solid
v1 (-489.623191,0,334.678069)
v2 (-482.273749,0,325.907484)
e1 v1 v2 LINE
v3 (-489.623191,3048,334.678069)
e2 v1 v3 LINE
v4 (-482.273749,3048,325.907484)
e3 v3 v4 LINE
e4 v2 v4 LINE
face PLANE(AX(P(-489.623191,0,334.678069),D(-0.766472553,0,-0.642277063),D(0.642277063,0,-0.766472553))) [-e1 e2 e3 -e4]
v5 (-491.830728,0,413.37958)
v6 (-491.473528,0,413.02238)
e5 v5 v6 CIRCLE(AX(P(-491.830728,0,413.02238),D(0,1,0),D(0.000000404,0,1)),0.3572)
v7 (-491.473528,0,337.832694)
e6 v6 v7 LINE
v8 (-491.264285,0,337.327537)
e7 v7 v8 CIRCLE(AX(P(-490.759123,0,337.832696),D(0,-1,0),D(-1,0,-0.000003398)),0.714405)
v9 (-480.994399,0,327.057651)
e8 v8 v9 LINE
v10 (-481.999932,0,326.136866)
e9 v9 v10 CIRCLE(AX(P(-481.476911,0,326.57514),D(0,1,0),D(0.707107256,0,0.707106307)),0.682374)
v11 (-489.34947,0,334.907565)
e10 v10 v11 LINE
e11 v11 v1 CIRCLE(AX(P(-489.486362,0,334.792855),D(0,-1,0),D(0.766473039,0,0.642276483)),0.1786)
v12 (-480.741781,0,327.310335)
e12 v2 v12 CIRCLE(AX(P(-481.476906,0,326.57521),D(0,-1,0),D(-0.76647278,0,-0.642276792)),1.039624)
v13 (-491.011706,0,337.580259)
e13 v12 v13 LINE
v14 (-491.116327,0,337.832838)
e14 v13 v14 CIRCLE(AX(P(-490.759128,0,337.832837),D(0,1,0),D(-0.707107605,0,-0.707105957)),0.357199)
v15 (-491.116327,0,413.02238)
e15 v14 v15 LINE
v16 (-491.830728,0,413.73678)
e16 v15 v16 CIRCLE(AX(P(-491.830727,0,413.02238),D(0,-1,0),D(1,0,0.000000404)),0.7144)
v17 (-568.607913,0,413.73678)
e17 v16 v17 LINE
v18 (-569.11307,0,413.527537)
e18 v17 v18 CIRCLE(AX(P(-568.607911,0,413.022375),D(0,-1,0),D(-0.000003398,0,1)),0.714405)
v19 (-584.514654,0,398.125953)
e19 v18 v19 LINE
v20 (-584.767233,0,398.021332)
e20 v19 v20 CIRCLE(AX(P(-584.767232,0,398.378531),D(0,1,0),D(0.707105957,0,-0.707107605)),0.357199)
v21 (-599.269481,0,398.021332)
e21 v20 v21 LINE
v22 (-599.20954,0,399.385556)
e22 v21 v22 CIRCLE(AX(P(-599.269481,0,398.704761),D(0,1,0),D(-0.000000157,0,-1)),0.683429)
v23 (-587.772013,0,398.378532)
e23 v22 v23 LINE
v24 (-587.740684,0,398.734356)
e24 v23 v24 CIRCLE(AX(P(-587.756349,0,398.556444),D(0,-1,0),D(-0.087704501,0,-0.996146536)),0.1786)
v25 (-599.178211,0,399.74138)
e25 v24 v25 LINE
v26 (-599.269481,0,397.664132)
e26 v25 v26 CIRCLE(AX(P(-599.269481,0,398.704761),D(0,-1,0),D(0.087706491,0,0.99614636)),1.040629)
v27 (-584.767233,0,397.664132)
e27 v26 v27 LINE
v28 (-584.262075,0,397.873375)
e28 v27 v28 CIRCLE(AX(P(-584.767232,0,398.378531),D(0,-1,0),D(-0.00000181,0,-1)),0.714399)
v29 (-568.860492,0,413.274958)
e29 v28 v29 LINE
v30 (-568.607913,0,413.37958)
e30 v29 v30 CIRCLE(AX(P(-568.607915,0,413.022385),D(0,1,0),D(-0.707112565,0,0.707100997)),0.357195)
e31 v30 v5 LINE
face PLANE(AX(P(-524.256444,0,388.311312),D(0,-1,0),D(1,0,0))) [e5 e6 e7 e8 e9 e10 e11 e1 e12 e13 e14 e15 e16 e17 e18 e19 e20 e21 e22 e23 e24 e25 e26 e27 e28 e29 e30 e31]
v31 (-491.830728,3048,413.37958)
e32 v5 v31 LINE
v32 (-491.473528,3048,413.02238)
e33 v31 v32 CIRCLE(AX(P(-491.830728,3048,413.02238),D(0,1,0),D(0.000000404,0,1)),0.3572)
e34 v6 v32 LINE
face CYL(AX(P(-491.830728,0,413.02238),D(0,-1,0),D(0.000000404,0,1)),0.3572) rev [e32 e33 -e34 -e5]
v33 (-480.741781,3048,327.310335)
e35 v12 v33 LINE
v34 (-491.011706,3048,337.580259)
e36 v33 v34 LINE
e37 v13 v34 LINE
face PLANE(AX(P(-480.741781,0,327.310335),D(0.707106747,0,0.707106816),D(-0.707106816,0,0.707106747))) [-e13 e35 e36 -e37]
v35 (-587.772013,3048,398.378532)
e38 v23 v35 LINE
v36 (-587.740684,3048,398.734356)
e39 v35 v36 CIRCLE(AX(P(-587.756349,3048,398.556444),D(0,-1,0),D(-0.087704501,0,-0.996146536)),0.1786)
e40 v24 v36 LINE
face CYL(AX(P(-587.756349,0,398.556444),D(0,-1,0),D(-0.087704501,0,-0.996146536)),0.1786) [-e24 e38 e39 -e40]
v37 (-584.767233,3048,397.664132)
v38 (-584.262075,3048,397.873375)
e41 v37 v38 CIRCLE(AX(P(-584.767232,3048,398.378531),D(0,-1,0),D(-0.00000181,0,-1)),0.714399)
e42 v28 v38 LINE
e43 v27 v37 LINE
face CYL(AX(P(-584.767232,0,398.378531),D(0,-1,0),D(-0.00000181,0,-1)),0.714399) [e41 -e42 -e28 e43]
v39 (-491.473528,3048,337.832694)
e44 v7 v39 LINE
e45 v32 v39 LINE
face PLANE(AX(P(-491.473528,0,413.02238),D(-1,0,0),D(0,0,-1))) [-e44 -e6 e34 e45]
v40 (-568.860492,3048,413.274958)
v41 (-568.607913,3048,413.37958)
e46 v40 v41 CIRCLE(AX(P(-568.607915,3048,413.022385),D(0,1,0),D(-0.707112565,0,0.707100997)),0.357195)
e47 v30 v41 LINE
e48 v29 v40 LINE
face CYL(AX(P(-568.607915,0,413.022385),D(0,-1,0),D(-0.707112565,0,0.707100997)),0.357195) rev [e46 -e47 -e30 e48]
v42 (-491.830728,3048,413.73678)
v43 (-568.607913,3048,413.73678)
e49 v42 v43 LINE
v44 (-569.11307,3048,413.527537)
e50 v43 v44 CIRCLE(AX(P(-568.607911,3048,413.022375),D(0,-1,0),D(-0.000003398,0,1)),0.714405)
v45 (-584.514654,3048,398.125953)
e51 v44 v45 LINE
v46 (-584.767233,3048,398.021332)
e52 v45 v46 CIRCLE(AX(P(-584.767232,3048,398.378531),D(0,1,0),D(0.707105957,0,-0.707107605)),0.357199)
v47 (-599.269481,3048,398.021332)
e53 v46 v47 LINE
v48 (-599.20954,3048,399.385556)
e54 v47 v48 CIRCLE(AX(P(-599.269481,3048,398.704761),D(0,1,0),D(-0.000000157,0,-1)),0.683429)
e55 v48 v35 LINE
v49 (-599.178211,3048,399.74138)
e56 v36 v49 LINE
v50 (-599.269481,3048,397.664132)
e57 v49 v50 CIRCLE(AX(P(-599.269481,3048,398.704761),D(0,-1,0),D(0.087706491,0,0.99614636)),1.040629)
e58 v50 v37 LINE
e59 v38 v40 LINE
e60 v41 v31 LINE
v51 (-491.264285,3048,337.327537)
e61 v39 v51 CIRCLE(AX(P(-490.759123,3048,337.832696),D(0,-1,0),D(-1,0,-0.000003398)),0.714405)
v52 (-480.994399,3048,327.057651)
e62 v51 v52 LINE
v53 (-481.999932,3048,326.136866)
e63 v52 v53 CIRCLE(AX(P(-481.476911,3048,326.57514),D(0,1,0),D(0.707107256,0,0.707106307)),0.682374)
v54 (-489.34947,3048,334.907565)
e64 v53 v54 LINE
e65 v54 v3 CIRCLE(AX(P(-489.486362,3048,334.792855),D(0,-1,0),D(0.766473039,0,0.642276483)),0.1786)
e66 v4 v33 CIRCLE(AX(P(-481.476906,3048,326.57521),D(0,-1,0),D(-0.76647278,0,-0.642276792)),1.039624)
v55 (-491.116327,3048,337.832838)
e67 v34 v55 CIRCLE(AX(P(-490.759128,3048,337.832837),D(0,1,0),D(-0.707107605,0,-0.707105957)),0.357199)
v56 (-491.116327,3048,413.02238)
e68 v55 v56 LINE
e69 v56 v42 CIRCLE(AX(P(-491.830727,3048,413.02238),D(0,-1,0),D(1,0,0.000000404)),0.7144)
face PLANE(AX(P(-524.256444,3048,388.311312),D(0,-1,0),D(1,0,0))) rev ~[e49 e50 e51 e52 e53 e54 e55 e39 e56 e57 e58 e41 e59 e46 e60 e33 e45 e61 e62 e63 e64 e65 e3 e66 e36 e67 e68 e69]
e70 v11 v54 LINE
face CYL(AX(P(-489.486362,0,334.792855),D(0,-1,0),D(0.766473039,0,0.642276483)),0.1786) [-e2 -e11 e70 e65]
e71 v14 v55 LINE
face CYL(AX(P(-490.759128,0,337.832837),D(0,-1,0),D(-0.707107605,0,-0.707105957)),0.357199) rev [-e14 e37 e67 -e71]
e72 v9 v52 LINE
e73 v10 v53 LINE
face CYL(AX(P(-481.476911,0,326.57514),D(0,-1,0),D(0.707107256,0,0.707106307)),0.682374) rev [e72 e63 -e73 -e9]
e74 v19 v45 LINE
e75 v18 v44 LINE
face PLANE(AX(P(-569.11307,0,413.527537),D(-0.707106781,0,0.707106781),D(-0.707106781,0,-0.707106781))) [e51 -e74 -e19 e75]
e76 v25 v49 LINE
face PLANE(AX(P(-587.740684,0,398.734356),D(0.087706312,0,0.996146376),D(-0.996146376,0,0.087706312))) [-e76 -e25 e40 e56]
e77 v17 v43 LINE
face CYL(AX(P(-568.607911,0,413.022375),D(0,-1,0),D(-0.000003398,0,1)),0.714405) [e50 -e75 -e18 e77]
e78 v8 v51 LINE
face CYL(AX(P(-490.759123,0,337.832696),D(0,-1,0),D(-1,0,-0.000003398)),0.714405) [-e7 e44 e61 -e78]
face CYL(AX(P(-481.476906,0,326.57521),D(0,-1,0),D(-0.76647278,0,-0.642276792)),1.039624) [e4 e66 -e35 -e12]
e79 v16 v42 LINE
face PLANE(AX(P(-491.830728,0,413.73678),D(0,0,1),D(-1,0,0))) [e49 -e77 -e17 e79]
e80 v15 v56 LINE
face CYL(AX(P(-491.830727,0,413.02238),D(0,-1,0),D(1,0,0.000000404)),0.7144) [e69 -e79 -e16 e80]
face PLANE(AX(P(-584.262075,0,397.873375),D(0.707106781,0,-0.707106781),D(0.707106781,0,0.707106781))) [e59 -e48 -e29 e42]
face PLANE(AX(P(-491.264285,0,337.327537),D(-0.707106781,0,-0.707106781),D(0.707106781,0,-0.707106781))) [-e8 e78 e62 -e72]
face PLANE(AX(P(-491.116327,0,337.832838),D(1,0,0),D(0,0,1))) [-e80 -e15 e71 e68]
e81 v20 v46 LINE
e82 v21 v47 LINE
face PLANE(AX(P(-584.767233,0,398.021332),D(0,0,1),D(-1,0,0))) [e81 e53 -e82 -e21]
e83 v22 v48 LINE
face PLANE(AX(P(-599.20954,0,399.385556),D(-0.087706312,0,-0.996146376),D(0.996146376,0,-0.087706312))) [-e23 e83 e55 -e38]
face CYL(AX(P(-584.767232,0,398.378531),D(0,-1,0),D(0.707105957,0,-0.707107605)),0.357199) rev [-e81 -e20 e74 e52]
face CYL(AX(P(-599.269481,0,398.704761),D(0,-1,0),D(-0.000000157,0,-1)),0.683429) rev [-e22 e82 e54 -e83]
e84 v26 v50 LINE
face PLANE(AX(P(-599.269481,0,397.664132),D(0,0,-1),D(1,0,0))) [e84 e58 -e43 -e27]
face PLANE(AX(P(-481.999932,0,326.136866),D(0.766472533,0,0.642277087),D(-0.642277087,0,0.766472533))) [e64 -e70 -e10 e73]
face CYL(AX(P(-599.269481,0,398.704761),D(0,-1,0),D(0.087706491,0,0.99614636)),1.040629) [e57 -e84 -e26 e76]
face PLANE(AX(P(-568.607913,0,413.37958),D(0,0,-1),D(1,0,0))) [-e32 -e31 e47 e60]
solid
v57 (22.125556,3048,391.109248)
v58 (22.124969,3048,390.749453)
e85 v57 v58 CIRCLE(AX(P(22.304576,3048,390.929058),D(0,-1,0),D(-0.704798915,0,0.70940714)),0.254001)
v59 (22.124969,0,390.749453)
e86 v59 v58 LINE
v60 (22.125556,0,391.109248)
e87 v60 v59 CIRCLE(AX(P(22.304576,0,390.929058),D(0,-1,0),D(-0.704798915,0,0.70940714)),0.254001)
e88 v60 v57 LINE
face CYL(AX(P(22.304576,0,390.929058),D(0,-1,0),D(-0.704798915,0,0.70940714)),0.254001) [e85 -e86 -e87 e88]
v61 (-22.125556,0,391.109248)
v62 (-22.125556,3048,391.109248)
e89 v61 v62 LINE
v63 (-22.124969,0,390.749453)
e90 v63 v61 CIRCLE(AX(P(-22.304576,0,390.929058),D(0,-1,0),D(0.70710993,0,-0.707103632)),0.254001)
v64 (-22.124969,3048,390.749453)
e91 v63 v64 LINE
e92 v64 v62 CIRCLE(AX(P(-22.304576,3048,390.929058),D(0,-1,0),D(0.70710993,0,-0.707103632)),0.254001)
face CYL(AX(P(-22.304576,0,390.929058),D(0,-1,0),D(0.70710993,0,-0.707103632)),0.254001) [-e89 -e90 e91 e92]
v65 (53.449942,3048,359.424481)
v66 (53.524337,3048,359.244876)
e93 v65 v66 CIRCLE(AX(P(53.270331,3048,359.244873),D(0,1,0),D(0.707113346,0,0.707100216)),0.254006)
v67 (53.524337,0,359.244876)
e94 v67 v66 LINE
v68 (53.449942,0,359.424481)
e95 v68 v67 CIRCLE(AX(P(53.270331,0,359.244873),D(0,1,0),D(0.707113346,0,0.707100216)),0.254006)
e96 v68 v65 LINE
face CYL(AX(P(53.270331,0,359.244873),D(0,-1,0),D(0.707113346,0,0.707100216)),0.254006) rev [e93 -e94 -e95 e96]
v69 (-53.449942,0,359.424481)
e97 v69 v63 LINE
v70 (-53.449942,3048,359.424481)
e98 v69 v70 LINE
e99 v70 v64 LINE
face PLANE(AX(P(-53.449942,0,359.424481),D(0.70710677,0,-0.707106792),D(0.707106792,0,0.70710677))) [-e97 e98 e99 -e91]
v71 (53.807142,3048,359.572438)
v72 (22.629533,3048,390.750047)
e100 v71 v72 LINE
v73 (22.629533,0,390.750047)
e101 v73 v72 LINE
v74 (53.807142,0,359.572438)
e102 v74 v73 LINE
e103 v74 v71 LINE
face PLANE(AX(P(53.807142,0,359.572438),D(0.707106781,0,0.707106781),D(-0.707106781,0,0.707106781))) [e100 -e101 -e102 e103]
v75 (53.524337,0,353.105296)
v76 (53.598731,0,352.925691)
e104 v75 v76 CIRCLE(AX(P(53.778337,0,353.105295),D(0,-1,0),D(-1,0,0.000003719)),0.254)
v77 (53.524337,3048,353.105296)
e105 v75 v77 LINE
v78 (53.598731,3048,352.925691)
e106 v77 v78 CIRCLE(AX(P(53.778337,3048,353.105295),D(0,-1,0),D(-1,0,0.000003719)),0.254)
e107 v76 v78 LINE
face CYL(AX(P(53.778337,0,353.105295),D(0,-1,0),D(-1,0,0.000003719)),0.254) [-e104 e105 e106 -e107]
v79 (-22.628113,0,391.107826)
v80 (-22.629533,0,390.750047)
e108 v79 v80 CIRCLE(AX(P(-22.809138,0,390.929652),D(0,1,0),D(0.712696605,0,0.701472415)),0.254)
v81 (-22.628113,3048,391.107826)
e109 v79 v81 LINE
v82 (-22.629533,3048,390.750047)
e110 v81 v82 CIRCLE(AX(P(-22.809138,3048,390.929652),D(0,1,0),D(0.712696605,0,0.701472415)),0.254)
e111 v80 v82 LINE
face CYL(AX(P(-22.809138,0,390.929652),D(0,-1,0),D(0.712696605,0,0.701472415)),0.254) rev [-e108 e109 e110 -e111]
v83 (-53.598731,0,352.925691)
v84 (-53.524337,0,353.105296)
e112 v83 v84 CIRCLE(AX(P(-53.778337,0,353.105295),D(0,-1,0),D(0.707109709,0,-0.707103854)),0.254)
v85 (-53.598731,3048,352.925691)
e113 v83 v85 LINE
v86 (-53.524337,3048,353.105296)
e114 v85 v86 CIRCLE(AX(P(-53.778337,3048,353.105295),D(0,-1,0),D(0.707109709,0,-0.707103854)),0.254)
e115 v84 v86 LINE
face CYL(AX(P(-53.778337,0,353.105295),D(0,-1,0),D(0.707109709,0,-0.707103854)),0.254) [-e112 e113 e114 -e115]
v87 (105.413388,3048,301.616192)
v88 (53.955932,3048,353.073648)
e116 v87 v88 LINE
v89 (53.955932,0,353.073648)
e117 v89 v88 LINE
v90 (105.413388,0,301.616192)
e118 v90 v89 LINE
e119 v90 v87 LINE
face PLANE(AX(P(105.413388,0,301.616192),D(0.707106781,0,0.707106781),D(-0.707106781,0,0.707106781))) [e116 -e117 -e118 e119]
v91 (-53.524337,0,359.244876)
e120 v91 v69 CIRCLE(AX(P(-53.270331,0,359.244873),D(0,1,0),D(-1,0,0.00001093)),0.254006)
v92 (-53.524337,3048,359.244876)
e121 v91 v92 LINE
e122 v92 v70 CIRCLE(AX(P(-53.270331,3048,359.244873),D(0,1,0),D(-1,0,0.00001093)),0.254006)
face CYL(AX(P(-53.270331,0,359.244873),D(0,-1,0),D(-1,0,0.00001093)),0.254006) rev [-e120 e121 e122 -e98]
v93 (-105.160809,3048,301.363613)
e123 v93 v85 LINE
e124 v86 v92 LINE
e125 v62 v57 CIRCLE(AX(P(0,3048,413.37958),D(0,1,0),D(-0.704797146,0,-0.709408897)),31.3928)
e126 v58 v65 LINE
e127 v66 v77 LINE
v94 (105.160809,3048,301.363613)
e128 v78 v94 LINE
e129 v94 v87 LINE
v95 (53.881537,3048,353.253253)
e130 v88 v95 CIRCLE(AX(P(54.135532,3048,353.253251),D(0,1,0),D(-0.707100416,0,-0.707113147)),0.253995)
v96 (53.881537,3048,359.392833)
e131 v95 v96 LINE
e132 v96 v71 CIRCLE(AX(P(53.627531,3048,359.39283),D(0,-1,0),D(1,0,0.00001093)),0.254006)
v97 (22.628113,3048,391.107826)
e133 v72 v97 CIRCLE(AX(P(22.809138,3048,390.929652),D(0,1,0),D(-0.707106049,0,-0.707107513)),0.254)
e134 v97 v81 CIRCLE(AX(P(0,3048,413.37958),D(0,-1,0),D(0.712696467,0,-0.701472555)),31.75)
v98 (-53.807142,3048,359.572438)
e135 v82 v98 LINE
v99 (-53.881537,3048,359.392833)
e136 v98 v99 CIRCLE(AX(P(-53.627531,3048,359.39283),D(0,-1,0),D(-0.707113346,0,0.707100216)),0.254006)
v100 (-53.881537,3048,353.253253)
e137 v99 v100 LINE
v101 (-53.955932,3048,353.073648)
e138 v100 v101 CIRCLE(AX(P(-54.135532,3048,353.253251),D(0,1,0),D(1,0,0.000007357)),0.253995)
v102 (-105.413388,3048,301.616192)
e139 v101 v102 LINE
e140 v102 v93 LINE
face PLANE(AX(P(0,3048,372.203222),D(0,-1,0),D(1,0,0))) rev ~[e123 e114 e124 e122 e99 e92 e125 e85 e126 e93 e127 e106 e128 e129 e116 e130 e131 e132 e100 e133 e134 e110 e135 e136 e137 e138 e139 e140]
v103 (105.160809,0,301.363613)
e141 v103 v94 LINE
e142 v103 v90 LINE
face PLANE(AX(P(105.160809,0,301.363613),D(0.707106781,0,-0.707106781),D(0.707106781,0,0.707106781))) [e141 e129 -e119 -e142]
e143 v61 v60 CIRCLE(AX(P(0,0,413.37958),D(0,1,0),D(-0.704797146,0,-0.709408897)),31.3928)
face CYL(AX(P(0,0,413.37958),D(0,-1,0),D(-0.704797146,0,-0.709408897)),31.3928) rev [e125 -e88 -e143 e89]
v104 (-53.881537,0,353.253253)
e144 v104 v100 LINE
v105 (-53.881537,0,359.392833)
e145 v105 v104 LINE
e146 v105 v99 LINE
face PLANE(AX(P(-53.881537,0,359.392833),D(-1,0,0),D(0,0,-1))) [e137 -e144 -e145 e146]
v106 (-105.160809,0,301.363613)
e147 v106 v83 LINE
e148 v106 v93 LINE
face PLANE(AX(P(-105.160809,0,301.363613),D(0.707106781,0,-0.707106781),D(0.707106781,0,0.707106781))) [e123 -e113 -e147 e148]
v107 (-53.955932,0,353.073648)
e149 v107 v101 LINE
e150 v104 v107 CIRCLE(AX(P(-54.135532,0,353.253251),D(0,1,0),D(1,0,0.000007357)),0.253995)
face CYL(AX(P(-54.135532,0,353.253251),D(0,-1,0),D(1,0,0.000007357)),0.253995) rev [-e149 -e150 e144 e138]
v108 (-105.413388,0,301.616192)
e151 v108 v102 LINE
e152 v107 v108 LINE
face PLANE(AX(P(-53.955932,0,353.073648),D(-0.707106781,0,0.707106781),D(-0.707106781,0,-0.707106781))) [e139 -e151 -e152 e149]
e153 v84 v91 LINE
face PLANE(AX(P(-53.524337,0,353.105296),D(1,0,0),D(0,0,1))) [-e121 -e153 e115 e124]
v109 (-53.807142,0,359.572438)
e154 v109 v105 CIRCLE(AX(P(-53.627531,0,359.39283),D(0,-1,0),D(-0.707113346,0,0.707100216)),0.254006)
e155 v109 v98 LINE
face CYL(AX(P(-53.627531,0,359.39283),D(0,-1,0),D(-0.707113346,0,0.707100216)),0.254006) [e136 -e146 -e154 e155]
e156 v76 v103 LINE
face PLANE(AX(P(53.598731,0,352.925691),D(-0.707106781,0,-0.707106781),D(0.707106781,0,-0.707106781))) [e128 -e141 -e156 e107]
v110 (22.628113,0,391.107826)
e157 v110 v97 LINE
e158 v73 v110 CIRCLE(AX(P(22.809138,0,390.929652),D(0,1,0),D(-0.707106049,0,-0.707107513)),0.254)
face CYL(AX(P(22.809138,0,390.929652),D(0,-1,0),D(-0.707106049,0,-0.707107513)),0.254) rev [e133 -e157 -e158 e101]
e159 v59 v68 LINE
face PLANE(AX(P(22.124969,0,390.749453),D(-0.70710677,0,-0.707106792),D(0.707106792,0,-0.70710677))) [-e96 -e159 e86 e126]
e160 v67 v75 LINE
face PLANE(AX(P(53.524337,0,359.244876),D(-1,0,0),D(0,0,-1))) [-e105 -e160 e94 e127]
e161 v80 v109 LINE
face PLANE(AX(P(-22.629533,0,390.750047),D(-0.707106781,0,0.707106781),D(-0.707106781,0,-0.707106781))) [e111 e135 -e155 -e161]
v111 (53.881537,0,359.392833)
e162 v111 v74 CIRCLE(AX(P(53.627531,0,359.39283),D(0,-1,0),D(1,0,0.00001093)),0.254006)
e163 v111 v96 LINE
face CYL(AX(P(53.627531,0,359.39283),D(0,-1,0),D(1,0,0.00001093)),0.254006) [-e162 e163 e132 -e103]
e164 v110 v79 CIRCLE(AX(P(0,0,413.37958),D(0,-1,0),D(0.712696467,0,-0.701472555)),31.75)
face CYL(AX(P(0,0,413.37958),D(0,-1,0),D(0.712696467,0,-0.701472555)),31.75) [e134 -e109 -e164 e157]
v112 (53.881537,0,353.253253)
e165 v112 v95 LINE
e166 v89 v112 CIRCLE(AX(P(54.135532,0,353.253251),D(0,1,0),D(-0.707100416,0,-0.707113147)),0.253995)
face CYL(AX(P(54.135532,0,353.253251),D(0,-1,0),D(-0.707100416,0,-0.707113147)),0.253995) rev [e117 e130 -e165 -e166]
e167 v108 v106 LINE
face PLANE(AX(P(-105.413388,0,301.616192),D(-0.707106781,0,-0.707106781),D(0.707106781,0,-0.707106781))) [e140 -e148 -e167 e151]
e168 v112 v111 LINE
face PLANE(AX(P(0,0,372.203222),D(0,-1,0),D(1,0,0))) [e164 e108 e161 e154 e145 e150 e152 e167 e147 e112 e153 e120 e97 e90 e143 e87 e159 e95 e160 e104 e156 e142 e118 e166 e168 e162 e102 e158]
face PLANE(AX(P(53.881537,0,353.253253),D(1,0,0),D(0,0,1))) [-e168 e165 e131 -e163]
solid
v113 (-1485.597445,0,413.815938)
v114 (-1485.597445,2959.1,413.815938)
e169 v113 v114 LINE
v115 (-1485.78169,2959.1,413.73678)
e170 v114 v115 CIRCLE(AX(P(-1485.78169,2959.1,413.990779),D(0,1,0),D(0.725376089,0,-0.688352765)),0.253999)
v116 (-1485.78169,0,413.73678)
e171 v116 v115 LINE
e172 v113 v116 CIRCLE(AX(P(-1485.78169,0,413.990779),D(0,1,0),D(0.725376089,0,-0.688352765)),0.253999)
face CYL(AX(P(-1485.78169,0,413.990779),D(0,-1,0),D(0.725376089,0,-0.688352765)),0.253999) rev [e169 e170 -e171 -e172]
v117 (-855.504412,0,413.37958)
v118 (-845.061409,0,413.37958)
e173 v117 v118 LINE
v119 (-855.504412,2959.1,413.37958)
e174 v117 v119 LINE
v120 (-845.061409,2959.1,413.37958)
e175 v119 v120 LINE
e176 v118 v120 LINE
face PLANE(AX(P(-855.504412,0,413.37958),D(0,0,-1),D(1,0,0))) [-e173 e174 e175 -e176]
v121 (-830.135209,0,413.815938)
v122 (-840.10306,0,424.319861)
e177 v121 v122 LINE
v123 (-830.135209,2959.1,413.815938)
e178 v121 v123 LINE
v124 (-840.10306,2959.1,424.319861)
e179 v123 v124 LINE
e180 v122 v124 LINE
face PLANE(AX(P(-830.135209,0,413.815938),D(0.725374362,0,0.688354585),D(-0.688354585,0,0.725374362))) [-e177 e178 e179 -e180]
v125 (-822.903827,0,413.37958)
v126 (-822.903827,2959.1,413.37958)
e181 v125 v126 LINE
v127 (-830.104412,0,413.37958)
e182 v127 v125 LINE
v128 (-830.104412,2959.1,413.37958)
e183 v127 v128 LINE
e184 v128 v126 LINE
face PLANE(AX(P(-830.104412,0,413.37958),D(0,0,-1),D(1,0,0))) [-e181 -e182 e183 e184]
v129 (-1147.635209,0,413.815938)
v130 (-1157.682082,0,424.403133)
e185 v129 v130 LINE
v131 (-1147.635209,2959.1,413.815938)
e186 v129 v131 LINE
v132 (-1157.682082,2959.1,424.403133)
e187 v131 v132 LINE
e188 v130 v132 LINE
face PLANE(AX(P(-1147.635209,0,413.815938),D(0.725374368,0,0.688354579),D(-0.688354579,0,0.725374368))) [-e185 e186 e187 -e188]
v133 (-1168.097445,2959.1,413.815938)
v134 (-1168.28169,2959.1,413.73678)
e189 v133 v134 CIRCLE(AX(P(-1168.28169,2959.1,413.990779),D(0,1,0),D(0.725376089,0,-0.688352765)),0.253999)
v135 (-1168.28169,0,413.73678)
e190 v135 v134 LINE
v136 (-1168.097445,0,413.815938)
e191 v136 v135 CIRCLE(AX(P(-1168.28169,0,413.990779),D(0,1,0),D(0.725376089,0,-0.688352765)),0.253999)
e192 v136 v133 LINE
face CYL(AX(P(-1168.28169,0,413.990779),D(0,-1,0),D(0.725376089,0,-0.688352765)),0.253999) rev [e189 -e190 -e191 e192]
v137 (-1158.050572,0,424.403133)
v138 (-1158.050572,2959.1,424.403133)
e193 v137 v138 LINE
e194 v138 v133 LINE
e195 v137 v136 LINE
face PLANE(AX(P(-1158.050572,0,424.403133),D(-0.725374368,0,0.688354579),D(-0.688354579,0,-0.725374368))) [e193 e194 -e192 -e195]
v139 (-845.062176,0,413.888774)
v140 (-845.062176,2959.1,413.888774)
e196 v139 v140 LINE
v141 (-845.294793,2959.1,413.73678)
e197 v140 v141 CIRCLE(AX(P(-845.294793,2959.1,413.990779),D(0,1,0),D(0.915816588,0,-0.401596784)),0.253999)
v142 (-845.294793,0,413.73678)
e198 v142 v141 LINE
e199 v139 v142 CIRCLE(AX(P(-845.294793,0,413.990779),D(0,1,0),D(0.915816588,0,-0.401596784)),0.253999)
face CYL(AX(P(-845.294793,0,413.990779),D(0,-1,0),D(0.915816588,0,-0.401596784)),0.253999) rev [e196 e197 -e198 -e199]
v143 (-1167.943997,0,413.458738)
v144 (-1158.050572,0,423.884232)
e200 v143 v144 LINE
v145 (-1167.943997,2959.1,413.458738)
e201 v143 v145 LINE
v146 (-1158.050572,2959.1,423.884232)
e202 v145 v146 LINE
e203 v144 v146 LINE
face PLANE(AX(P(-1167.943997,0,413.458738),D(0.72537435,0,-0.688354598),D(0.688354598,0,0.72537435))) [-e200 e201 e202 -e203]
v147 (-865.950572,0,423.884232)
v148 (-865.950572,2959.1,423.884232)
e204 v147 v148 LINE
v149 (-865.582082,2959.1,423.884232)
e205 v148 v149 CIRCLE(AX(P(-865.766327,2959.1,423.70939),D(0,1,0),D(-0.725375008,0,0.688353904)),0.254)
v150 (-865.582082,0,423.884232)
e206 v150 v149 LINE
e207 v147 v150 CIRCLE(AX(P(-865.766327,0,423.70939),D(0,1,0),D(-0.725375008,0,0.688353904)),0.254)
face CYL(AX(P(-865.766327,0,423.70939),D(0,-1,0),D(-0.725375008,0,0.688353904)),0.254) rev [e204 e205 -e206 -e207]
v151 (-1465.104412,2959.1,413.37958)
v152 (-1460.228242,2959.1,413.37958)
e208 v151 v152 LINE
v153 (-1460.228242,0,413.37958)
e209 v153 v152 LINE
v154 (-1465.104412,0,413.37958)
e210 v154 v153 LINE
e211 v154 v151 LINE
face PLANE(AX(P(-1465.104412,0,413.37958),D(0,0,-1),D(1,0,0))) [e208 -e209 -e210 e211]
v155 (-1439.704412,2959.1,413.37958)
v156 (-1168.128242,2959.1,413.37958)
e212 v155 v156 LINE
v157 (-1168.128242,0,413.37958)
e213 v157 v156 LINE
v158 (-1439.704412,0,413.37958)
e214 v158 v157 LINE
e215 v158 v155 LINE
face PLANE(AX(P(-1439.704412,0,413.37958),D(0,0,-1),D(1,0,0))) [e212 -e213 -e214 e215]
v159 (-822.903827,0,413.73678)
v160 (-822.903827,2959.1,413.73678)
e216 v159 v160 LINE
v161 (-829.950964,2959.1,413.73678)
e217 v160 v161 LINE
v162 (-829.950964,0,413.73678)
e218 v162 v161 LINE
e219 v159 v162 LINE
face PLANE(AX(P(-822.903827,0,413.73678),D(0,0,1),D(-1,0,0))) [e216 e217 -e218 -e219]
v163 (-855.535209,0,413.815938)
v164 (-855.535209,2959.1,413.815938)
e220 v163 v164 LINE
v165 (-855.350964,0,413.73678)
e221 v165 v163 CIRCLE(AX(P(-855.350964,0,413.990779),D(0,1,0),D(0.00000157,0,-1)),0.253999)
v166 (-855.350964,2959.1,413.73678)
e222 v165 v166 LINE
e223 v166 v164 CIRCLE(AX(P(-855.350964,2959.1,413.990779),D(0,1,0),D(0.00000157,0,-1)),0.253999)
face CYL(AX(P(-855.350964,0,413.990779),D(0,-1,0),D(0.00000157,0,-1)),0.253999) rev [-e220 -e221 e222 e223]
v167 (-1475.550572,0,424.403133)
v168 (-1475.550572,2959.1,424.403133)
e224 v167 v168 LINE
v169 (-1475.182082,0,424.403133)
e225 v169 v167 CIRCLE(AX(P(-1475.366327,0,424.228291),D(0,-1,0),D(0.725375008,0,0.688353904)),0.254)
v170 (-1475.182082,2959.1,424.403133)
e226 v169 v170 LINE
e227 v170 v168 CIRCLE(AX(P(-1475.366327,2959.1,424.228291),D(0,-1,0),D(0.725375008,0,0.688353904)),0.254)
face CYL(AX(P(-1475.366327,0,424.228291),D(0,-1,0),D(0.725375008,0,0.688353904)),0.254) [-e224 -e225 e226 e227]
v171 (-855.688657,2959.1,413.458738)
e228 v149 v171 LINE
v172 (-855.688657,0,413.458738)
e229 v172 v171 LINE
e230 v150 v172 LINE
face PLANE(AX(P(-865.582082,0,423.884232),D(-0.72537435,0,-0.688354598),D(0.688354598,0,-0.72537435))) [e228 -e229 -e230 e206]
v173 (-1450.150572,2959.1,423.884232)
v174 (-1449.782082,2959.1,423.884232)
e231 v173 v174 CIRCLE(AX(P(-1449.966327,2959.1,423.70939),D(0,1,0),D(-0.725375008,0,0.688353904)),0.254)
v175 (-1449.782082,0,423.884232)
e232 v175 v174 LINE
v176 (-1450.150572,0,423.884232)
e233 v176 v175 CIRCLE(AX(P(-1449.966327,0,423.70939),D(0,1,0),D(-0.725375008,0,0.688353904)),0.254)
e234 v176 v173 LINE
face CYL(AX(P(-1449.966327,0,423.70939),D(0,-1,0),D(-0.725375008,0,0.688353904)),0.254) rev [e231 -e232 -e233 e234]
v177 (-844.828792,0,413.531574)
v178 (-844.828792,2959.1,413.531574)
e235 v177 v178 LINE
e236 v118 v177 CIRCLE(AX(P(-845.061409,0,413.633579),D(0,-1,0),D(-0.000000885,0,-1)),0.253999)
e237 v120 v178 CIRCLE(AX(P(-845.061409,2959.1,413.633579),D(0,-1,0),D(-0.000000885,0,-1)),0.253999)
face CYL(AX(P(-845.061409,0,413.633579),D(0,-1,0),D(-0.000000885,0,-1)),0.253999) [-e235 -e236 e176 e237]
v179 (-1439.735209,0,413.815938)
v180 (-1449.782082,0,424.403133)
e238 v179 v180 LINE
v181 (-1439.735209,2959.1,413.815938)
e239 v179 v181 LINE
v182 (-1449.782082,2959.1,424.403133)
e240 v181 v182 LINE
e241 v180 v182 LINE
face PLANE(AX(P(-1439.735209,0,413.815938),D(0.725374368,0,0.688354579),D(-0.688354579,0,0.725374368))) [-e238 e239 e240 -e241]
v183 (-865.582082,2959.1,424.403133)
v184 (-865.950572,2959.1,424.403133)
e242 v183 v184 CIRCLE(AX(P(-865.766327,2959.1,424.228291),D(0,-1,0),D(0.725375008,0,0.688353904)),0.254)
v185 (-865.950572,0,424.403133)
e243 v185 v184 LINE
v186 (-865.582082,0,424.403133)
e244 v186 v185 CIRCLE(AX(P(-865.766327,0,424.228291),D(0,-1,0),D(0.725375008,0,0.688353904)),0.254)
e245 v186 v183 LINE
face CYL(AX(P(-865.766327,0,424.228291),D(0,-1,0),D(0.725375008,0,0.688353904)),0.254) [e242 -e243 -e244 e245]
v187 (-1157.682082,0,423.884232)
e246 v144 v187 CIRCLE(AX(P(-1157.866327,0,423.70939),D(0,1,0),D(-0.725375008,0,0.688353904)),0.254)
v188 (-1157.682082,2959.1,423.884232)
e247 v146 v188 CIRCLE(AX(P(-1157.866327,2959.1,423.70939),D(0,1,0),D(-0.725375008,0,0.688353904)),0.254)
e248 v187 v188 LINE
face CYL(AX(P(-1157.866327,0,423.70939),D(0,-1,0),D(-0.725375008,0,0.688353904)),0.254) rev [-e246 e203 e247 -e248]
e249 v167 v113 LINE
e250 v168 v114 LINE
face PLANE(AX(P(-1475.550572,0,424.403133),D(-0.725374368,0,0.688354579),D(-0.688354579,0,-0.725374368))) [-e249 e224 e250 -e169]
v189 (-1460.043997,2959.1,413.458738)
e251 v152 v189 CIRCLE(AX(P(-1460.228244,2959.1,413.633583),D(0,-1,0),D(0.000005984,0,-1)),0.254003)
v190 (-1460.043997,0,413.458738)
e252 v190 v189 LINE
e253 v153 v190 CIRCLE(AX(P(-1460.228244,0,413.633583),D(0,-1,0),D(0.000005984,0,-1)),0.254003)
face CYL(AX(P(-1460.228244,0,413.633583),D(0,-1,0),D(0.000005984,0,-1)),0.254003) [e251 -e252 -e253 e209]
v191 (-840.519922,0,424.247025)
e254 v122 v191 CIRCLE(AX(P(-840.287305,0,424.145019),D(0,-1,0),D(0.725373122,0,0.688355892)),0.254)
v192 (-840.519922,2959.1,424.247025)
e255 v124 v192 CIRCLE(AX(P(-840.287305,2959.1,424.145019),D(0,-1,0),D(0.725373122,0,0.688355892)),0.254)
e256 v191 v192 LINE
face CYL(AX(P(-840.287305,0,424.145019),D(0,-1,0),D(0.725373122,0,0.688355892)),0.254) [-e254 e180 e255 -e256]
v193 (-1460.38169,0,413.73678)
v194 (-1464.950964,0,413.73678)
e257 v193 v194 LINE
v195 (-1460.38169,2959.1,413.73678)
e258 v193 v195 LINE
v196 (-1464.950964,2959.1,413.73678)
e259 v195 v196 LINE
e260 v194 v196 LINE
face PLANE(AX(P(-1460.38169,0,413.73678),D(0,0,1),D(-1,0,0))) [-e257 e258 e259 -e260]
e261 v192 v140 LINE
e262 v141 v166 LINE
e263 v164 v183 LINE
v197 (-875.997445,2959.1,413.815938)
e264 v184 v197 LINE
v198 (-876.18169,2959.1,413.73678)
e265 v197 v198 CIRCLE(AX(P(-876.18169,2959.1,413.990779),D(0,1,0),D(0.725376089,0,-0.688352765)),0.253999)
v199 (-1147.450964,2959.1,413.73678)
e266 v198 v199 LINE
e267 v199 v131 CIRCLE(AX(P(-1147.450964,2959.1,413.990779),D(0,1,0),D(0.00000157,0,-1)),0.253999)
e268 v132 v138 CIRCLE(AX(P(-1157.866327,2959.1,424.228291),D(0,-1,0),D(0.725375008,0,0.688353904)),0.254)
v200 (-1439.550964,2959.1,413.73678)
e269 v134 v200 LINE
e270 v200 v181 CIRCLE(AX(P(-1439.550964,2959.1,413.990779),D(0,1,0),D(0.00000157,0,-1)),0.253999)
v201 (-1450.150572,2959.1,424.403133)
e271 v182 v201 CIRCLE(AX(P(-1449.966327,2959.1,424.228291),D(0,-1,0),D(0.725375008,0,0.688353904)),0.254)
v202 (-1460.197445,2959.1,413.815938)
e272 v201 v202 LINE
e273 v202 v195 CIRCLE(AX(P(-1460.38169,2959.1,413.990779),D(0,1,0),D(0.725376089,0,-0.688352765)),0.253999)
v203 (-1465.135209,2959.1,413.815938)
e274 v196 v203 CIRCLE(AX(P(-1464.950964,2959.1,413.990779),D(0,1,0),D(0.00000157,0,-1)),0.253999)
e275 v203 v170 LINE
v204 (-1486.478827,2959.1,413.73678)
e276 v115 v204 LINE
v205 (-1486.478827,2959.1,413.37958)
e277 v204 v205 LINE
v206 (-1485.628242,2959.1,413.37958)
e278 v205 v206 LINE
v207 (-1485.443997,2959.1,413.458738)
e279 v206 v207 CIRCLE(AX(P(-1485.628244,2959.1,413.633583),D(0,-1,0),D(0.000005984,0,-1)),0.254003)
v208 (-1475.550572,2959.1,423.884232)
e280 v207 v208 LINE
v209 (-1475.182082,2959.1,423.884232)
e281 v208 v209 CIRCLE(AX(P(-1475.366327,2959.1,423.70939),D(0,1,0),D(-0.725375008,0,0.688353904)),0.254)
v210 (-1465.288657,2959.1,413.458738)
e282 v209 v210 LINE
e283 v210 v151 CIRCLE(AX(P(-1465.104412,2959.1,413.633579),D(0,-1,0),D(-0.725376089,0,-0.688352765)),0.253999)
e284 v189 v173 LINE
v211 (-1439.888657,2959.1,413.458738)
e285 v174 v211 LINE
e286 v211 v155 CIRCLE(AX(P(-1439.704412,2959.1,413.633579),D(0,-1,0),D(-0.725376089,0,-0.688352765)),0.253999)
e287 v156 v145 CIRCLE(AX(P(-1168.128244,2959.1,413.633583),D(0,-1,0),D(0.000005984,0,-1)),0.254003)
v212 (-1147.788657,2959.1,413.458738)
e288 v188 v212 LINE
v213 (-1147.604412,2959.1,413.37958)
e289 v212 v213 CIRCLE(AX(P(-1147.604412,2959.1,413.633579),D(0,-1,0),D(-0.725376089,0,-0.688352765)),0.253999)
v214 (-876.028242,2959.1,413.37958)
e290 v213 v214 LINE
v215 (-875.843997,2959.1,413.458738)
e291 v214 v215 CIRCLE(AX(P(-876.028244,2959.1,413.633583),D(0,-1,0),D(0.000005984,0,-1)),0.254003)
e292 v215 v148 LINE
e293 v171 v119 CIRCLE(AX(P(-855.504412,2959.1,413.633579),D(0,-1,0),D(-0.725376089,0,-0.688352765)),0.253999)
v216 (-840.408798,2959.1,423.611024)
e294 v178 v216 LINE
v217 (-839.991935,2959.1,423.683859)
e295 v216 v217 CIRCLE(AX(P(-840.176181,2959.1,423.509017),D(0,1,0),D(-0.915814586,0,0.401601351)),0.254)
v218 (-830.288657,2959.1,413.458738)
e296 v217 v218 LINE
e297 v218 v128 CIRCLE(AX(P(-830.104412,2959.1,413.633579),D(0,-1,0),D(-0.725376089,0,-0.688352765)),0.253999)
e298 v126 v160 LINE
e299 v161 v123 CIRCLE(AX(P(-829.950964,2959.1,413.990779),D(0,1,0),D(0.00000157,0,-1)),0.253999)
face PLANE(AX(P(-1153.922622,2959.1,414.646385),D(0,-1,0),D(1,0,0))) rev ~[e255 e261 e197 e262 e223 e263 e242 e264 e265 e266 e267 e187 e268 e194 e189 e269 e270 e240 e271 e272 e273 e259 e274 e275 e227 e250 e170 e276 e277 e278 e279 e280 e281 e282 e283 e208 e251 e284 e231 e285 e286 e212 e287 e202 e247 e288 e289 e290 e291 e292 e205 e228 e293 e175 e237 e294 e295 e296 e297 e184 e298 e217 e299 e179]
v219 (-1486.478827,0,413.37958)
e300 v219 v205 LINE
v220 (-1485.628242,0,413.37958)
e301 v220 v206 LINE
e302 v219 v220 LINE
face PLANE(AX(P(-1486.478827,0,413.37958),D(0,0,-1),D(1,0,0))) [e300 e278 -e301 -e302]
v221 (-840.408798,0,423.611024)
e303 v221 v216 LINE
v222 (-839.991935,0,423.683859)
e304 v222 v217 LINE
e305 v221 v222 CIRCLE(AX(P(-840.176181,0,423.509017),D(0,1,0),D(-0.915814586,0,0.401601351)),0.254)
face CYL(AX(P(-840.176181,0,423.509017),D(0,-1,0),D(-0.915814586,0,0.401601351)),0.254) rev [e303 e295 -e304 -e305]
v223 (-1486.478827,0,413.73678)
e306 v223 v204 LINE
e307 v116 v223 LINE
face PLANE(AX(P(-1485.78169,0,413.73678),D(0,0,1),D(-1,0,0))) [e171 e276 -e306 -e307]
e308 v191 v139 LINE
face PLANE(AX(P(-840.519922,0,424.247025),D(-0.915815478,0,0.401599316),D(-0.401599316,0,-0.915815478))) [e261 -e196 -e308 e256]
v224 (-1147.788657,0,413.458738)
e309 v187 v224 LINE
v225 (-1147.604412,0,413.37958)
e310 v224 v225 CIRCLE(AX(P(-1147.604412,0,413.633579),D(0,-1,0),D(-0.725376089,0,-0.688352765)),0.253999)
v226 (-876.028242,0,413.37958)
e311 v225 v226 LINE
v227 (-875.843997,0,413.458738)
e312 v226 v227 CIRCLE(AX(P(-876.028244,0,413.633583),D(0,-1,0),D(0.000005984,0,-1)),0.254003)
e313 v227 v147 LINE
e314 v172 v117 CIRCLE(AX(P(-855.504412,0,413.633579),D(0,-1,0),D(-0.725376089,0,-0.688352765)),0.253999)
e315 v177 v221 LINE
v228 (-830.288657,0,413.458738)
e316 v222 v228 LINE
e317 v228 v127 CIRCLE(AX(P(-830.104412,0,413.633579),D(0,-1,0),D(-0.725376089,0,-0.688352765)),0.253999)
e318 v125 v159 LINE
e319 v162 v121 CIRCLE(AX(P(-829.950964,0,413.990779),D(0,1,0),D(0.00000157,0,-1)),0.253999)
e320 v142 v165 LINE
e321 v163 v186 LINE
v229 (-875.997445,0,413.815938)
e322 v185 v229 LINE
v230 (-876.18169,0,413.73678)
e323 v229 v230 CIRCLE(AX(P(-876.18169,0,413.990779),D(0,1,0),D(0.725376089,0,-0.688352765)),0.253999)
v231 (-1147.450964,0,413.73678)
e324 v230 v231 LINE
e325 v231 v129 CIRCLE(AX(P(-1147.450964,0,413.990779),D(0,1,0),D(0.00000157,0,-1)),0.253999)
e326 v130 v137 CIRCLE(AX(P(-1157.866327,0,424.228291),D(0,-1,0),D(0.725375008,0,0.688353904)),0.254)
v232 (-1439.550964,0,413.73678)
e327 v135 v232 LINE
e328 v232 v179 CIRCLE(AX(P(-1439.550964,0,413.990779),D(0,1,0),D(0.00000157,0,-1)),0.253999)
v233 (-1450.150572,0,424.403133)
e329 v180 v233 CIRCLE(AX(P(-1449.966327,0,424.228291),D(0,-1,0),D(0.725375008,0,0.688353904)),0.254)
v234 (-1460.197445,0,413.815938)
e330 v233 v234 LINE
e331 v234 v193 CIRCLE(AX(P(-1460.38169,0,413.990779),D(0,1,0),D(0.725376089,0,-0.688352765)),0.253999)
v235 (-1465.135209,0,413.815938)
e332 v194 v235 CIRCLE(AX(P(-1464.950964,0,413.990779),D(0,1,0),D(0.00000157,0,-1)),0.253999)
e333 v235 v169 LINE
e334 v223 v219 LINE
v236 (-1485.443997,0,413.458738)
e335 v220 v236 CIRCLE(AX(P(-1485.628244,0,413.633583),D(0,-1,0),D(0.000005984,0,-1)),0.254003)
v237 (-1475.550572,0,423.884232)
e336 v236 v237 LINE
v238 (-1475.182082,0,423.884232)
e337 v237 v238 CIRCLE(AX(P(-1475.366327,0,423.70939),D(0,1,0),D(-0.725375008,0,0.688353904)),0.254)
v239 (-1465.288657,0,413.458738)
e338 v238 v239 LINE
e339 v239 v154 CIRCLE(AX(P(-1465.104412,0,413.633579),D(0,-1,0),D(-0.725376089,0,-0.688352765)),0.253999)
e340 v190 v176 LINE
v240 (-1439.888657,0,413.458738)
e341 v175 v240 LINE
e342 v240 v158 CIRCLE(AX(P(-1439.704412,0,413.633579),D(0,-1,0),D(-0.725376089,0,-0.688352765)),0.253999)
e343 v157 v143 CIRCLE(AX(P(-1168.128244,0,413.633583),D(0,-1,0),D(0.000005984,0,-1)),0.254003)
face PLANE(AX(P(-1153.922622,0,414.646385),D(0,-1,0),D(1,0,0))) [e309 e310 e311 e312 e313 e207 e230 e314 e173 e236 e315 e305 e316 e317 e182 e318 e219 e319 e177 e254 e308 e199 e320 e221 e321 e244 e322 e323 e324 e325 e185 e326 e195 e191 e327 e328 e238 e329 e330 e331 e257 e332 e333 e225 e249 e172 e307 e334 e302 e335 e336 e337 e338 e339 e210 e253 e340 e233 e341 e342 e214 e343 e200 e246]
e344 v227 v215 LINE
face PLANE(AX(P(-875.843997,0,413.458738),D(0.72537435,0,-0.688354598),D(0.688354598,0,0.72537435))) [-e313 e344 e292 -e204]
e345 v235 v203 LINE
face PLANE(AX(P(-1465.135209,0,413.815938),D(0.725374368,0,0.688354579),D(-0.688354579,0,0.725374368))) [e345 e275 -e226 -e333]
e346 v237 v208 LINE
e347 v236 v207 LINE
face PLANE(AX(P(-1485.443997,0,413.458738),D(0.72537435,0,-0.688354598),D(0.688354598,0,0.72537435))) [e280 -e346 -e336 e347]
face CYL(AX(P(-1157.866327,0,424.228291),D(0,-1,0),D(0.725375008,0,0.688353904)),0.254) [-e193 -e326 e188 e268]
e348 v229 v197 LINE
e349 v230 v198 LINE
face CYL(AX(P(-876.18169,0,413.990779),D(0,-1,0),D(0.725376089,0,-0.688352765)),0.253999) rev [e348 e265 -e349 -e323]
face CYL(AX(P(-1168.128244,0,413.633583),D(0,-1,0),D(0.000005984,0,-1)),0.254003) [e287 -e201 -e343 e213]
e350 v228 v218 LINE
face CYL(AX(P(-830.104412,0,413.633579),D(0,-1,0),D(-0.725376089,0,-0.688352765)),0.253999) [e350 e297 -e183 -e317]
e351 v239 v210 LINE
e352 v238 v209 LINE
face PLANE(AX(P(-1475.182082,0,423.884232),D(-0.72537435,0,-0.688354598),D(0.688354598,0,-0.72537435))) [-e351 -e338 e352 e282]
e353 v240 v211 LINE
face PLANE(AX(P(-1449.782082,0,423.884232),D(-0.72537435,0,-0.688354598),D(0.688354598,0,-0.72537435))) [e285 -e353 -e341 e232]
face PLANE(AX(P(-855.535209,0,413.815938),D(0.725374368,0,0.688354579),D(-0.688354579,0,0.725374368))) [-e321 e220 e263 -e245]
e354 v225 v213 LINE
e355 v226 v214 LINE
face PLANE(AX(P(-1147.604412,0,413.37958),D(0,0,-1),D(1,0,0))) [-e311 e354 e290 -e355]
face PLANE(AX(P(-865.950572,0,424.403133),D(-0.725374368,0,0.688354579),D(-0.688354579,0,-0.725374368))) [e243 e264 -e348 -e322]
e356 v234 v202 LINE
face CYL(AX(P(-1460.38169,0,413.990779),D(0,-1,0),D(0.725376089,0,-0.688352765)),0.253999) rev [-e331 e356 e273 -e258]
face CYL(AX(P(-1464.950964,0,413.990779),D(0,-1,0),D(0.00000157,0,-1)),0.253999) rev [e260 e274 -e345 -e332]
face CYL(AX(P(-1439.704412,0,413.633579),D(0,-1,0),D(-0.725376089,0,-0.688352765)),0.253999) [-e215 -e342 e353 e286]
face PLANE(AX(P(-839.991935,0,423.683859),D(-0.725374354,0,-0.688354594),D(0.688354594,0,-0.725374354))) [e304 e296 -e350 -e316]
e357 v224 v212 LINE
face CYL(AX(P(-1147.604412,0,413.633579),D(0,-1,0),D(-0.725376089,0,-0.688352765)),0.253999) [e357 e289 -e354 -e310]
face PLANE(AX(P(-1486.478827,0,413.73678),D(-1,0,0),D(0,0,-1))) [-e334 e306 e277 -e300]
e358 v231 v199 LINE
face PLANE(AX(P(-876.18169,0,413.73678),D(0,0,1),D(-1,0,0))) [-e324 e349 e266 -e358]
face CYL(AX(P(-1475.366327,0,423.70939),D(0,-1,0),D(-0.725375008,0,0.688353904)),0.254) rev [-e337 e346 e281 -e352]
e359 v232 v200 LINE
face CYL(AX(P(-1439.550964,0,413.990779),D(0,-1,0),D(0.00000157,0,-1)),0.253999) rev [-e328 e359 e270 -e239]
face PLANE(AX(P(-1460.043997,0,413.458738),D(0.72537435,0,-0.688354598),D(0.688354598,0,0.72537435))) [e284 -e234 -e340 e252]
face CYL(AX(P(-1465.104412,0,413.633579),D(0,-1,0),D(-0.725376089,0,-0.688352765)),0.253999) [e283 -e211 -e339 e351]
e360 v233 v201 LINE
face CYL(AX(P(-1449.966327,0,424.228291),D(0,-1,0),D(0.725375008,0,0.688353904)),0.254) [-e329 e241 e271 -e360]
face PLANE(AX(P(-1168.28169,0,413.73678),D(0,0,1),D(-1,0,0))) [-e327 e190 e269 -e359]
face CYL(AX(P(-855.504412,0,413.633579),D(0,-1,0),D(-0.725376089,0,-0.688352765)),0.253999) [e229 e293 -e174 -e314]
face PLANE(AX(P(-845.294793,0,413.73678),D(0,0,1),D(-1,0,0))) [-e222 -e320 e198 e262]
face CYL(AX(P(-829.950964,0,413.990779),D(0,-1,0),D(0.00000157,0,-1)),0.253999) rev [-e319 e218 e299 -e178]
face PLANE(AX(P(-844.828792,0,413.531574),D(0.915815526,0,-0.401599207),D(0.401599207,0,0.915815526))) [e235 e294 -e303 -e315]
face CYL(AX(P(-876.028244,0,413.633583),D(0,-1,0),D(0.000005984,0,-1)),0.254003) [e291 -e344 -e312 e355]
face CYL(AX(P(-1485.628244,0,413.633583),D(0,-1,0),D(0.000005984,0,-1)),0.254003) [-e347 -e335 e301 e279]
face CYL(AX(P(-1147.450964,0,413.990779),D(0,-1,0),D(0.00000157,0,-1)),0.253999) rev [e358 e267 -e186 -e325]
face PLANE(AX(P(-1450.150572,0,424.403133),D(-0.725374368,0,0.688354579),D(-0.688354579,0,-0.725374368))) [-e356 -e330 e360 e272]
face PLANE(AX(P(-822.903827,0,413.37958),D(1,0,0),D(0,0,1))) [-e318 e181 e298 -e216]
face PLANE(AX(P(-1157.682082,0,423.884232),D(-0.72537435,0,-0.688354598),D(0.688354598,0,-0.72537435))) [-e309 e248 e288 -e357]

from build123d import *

# Parameters (mm, degrees)
F1_DEPTH = 2959.1
F2_DEPTH = 3048
F3_DEPTH = 3048


with BuildPart() as f1:
    # F0 (on Front) → F1 (new body)
    with BuildSketch(Plane.XZ):
        with BuildLine():
            Line((-1475.550572, 424.403133), (-1485.597445, 413.815938))
            ThreePointArc((-1485.597445, 413.815938), (-1485.681425, 413.757407), (-1485.78169, 413.73678))
            Line((-1485.78169, 413.73678), (-1486.478827, 413.73678))
            Line((-1486.478827, 413.73678), (-1486.478827, 413.37958))
            Line((-1486.478827, 413.37958), (-1485.628242, 413.37958))
            ThreePointArc((-1485.628242, 413.37958), (-1485.527978, 413.400207), (-1485.443997, 413.458738))
            Line((-1485.443997, 413.458738), (-1475.550572, 423.884232))
            ThreePointArc((-1475.550572, 423.884232), (-1475.366327, 423.96339), (-1475.182082, 423.884232))
            Line((-1475.182082, 423.884232), (-1465.288657, 413.458738))
            ThreePointArc((-1465.288657, 413.458738), (-1465.204677, 413.400207), (-1465.104412, 413.37958))
            Line((-1465.104412, 413.37958), (-1460.228242, 413.37958))
            ThreePointArc((-1460.228242, 413.37958), (-1460.127978, 413.400207), (-1460.043997, 413.458738))
            Line((-1460.043997, 413.458738), (-1450.150572, 423.884232))
            ThreePointArc((-1450.150572, 423.884232), (-1449.966327, 423.96339), (-1449.782082, 423.884232))
            Line((-1449.782082, 423.884232), (-1439.888657, 413.458738))
            ThreePointArc((-1439.888657, 413.458738), (-1439.804677, 413.400207), (-1439.704412, 413.37958))
            Line((-1439.704412, 413.37958), (-1168.128242, 413.37958))
            ThreePointArc((-1168.128242, 413.37958), (-1168.027978, 413.400207), (-1167.943997, 413.458738))
            Line((-1167.943997, 413.458738), (-1158.050572, 423.884232))
            ThreePointArc((-1158.050572, 423.884232), (-1157.866327, 423.96339), (-1157.682082, 423.884232))
            Line((-1157.682082, 423.884232), (-1147.788657, 413.458738))
            ThreePointArc((-1147.788657, 413.458738), (-1147.704677, 413.400207), (-1147.604412, 413.37958))
            Line((-1147.604412, 413.37958), (-876.028242, 413.37958))
            ThreePointArc((-876.028242, 413.37958), (-875.927978, 413.400207), (-875.843997, 413.458738))
            Line((-875.843997, 413.458738), (-865.950572, 423.884232))
            ThreePointArc((-865.950572, 423.884232), (-865.766327, 423.96339), (-865.582082, 423.884232))
            Line((-865.582082, 423.884232), (-855.688657, 413.458738))
            ThreePointArc((-855.688657, 413.458738), (-855.604677, 413.400207), (-855.504412, 413.37958))
            Line((-855.504412, 413.37958), (-845.061409, 413.37958))
            ThreePointArc((-845.061409, 413.37958), (-844.922473, 413.420947), (-844.828792, 413.531574))
            Line((-844.828792, 413.531574), (-840.408798, 423.611024))
            ThreePointArc((-840.408798, 423.611024), (-840.219898, 423.759227), (-839.991935, 423.683859))
            Line((-839.991935, 423.683859), (-830.288657, 413.458738))
            ThreePointArc((-830.288657, 413.458738), (-830.204677, 413.400207), (-830.104412, 413.37958))
            Line((-830.104412, 413.37958), (-822.903827, 413.37958))
            Line((-822.903827, 413.37958), (-822.903827, 413.73678))
            Line((-822.903827, 413.73678), (-829.950964, 413.73678))
            ThreePointArc((-829.950964, 413.73678), (-830.051229, 413.757407), (-830.135209, 413.815938))
            Line((-830.135209, 413.815938), (-840.10306, 424.319861))
            ThreePointArc((-840.10306, 424.319861), (-840.331023, 424.395228), (-840.519922, 424.247025))
            Line((-840.519922, 424.247025), (-845.062176, 413.888774))
            ThreePointArc((-845.062176, 413.888774), (-845.155857, 413.778147), (-845.294793, 413.73678))
            Line((-845.294793, 413.73678), (-855.350964, 413.73678))
            ThreePointArc((-855.350964, 413.73678), (-855.451229, 413.757407), (-855.535209, 413.815938))
            Line((-855.535209, 413.815938), (-865.582082, 424.403133))
            ThreePointArc((-865.582082, 424.403133), (-865.766327, 424.482291), (-865.950572, 424.403133))
            Line((-865.950572, 424.403133), (-875.997445, 413.815938))
            ThreePointArc((-875.997445, 413.815938), (-876.081425, 413.757407), (-876.18169, 413.73678))
            Line((-876.18169, 413.73678), (-1147.450964, 413.73678))
            ThreePointArc((-1147.450964, 413.73678), (-1147.551229, 413.757407), (-1147.635209, 413.815938))
            Line((-1147.635209, 413.815938), (-1157.682082, 424.403133))
            ThreePointArc((-1157.682082, 424.403133), (-1157.866327, 424.482291), (-1158.050572, 424.403133))
            Line((-1158.050572, 424.403133), (-1168.097445, 413.815938))
            ThreePointArc((-1168.097445, 413.815938), (-1168.181425, 413.757407), (-1168.28169, 413.73678))
            Line((-1168.28169, 413.73678), (-1439.550964, 413.73678))
            ThreePointArc((-1439.550964, 413.73678), (-1439.651229, 413.757407), (-1439.735209, 413.815938))
            Line((-1439.735209, 413.815938), (-1449.782082, 424.403133))
            ThreePointArc((-1449.782082, 424.403133), (-1449.966327, 424.482291), (-1450.150572, 424.403133))
            Line((-1450.150572, 424.403133), (-1460.197445, 413.815938))
            ThreePointArc((-1460.197445, 413.815938), (-1460.281425, 413.757407), (-1460.38169, 413.73678))
            Line((-1460.38169, 413.73678), (-1464.950964, 413.73678))
            ThreePointArc((-1464.950964, 413.73678), (-1465.051229, 413.757407), (-1465.135209, 413.815938))
            Line((-1465.135209, 413.815938), (-1475.182082, 424.403133))
            ThreePointArc((-1475.182082, 424.403133), (-1475.366327, 424.482291), (-1475.550572, 424.403133))
        make_face()
    extrude(amount=-F1_DEPTH)


with BuildPart() as f2:
    # F0 (on Front) → F2 (new body)
    with BuildSketch(Plane.XZ):
        with BuildLine():
            ThreePointArc((22.629533, 390.750047), (22.55514, 390.928644), (22.628113, 391.107826))
            ThreePointArc((22.628113, 391.107826), (0, 445.12958), (-22.628113, 391.107826))
            ThreePointArc((-22.628113, 391.107826), (-22.55514, 390.928644), (-22.629533, 390.750047))
            Line((-22.629533, 390.750047), (-53.807142, 359.572438))
            ThreePointArc((-53.807142, 359.572438), (-53.862202, 359.490034), (-53.881537, 359.392833))
            Line((-53.881537, 359.392833), (-53.881537, 353.253253))
            ThreePointArc((-53.881537, 353.253253), (-53.900871, 353.156052), (-53.955932, 353.073648))
            Line((-53.955932, 353.073648), (-105.413388, 301.616192))
            Line((-105.413388, 301.616192), (-105.160809, 301.363613))
            Line((-105.160809, 301.363613), (-53.598731, 352.925691))
            ThreePointArc((-53.598731, 352.925691), (-53.543671, 353.008095), (-53.524337, 353.105296))
            Line((-53.524337, 353.105296), (-53.524337, 359.244876))
            ThreePointArc((-53.524337, 359.244876), (-53.505002, 359.342077), (-53.449942, 359.424481))
            Line((-53.449942, 359.424481), (-22.124969, 390.749453))
            ThreePointArc((-22.124969, 390.749453), (-22.050575, 390.929473), (-22.125556, 391.109248))
            ThreePointArc((-22.125556, 391.109248), (0, 444.77238), (22.125556, 391.109248))
            ThreePointArc((22.125556, 391.109248), (22.050575, 390.929473), (22.124969, 390.749453))
            Line((22.124969, 390.749453), (53.449942, 359.424481))
            ThreePointArc((53.449942, 359.424481), (53.505002, 359.342077), (53.524337, 359.244876))
            Line((53.524337, 359.244876), (53.524337, 353.105296))
            ThreePointArc((53.524337, 353.105296), (53.543671, 353.008095), (53.598731, 352.925691))
            Line((53.598731, 352.925691), (105.160809, 301.363613))
            Line((105.160809, 301.363613), (105.413388, 301.616192))
            Line((105.413388, 301.616192), (53.955932, 353.073648))
            ThreePointArc((53.955932, 353.073648), (53.900871, 353.156052), (53.881537, 353.253253))
            Line((53.881537, 353.253253), (53.881537, 359.392833))
            ThreePointArc((53.881537, 359.392833), (53.862202, 359.490034), (53.807142, 359.572438))
            Line((53.807142, 359.572438), (22.629533, 390.750047))
        make_face()
    extrude(amount=-F2_DEPTH)


with BuildPart() as f3:
    # F0 (on Front) → F3 (new body)
    with BuildSketch(Plane.XZ):
        with BuildLine():
            Line((-491.830728, 413.73678), (-568.607913, 413.73678))
            ThreePointArc((-568.607913, 413.73678), (-568.881302, 413.682399), (-569.11307, 413.527537))
            Line((-569.11307, 413.527537), (-584.514654, 398.125953))
            ThreePointArc((-584.514654, 398.125953), (-584.630538, 398.048522), (-584.767233, 398.021332))
            Line((-584.767233, 398.021332), (-599.269481, 398.021332))
            ThreePointArc((-599.269481, 398.021332), (-599.952251, 398.73476), (-599.20954, 399.385556))
            Line((-599.20954, 399.385556), (-587.772013, 398.378532))
            ThreePointArc((-587.772013, 398.378532), (-587.578437, 398.540779), (-587.740684, 398.734356))
            Line((-587.740684, 398.734356), (-599.178211, 399.74138))
            ThreePointArc((-599.178211, 399.74138), (-600.309107, 398.75044), (-599.269481, 397.664132))
            Line((-599.269481, 397.664132), (-584.767233, 397.664132))
            ThreePointArc((-584.767233, 397.664132), (-584.493844, 397.718512), (-584.262075, 397.873375))
            Line((-584.262075, 397.873375), (-568.860492, 413.274958))
            ThreePointArc((-568.860492, 413.274958), (-568.744608, 413.35239), (-568.607913, 413.37958))
            Line((-568.607913, 413.37958), (-491.830728, 413.37958))
            ThreePointArc((-491.830728, 413.37958), (-491.578149, 413.274958), (-491.473528, 413.02238))
            Line((-491.473528, 413.02238), (-491.473528, 337.832694))
            ThreePointArc((-491.473528, 337.832694), (-491.419147, 337.559305), (-491.264285, 337.327537))
            Line((-491.264285, 337.327537), (-480.994399, 327.057651))
            ThreePointArc((-480.994399, 327.057651), (-481.016073, 326.071887), (-481.999932, 326.136866))
            Line((-481.999932, 326.136866), (-489.34947, 334.907565))
            ThreePointArc((-489.34947, 334.907565), (-489.60111, 334.929715), (-489.623191, 334.678069))
            Line((-489.623191, 334.678069), (-482.273749, 325.907484))
            ThreePointArc((-482.273749, 325.907484), (-480.774802, 325.808485), (-480.741781, 327.310335))
            Line((-480.741781, 327.310335), (-491.011706, 337.580259))
            ThreePointArc((-491.011706, 337.580259), (-491.089137, 337.696143), (-491.116327, 337.832838))
            Line((-491.116327, 337.832838), (-491.116327, 413.02238))
            ThreePointArc((-491.116327, 413.02238), (-491.32557, 413.527537), (-491.830728, 413.73678))
        make_face()
    extrude(amount=-F3_DEPTH)


solid = Compound([f1.part, f2.part, f3.part])
